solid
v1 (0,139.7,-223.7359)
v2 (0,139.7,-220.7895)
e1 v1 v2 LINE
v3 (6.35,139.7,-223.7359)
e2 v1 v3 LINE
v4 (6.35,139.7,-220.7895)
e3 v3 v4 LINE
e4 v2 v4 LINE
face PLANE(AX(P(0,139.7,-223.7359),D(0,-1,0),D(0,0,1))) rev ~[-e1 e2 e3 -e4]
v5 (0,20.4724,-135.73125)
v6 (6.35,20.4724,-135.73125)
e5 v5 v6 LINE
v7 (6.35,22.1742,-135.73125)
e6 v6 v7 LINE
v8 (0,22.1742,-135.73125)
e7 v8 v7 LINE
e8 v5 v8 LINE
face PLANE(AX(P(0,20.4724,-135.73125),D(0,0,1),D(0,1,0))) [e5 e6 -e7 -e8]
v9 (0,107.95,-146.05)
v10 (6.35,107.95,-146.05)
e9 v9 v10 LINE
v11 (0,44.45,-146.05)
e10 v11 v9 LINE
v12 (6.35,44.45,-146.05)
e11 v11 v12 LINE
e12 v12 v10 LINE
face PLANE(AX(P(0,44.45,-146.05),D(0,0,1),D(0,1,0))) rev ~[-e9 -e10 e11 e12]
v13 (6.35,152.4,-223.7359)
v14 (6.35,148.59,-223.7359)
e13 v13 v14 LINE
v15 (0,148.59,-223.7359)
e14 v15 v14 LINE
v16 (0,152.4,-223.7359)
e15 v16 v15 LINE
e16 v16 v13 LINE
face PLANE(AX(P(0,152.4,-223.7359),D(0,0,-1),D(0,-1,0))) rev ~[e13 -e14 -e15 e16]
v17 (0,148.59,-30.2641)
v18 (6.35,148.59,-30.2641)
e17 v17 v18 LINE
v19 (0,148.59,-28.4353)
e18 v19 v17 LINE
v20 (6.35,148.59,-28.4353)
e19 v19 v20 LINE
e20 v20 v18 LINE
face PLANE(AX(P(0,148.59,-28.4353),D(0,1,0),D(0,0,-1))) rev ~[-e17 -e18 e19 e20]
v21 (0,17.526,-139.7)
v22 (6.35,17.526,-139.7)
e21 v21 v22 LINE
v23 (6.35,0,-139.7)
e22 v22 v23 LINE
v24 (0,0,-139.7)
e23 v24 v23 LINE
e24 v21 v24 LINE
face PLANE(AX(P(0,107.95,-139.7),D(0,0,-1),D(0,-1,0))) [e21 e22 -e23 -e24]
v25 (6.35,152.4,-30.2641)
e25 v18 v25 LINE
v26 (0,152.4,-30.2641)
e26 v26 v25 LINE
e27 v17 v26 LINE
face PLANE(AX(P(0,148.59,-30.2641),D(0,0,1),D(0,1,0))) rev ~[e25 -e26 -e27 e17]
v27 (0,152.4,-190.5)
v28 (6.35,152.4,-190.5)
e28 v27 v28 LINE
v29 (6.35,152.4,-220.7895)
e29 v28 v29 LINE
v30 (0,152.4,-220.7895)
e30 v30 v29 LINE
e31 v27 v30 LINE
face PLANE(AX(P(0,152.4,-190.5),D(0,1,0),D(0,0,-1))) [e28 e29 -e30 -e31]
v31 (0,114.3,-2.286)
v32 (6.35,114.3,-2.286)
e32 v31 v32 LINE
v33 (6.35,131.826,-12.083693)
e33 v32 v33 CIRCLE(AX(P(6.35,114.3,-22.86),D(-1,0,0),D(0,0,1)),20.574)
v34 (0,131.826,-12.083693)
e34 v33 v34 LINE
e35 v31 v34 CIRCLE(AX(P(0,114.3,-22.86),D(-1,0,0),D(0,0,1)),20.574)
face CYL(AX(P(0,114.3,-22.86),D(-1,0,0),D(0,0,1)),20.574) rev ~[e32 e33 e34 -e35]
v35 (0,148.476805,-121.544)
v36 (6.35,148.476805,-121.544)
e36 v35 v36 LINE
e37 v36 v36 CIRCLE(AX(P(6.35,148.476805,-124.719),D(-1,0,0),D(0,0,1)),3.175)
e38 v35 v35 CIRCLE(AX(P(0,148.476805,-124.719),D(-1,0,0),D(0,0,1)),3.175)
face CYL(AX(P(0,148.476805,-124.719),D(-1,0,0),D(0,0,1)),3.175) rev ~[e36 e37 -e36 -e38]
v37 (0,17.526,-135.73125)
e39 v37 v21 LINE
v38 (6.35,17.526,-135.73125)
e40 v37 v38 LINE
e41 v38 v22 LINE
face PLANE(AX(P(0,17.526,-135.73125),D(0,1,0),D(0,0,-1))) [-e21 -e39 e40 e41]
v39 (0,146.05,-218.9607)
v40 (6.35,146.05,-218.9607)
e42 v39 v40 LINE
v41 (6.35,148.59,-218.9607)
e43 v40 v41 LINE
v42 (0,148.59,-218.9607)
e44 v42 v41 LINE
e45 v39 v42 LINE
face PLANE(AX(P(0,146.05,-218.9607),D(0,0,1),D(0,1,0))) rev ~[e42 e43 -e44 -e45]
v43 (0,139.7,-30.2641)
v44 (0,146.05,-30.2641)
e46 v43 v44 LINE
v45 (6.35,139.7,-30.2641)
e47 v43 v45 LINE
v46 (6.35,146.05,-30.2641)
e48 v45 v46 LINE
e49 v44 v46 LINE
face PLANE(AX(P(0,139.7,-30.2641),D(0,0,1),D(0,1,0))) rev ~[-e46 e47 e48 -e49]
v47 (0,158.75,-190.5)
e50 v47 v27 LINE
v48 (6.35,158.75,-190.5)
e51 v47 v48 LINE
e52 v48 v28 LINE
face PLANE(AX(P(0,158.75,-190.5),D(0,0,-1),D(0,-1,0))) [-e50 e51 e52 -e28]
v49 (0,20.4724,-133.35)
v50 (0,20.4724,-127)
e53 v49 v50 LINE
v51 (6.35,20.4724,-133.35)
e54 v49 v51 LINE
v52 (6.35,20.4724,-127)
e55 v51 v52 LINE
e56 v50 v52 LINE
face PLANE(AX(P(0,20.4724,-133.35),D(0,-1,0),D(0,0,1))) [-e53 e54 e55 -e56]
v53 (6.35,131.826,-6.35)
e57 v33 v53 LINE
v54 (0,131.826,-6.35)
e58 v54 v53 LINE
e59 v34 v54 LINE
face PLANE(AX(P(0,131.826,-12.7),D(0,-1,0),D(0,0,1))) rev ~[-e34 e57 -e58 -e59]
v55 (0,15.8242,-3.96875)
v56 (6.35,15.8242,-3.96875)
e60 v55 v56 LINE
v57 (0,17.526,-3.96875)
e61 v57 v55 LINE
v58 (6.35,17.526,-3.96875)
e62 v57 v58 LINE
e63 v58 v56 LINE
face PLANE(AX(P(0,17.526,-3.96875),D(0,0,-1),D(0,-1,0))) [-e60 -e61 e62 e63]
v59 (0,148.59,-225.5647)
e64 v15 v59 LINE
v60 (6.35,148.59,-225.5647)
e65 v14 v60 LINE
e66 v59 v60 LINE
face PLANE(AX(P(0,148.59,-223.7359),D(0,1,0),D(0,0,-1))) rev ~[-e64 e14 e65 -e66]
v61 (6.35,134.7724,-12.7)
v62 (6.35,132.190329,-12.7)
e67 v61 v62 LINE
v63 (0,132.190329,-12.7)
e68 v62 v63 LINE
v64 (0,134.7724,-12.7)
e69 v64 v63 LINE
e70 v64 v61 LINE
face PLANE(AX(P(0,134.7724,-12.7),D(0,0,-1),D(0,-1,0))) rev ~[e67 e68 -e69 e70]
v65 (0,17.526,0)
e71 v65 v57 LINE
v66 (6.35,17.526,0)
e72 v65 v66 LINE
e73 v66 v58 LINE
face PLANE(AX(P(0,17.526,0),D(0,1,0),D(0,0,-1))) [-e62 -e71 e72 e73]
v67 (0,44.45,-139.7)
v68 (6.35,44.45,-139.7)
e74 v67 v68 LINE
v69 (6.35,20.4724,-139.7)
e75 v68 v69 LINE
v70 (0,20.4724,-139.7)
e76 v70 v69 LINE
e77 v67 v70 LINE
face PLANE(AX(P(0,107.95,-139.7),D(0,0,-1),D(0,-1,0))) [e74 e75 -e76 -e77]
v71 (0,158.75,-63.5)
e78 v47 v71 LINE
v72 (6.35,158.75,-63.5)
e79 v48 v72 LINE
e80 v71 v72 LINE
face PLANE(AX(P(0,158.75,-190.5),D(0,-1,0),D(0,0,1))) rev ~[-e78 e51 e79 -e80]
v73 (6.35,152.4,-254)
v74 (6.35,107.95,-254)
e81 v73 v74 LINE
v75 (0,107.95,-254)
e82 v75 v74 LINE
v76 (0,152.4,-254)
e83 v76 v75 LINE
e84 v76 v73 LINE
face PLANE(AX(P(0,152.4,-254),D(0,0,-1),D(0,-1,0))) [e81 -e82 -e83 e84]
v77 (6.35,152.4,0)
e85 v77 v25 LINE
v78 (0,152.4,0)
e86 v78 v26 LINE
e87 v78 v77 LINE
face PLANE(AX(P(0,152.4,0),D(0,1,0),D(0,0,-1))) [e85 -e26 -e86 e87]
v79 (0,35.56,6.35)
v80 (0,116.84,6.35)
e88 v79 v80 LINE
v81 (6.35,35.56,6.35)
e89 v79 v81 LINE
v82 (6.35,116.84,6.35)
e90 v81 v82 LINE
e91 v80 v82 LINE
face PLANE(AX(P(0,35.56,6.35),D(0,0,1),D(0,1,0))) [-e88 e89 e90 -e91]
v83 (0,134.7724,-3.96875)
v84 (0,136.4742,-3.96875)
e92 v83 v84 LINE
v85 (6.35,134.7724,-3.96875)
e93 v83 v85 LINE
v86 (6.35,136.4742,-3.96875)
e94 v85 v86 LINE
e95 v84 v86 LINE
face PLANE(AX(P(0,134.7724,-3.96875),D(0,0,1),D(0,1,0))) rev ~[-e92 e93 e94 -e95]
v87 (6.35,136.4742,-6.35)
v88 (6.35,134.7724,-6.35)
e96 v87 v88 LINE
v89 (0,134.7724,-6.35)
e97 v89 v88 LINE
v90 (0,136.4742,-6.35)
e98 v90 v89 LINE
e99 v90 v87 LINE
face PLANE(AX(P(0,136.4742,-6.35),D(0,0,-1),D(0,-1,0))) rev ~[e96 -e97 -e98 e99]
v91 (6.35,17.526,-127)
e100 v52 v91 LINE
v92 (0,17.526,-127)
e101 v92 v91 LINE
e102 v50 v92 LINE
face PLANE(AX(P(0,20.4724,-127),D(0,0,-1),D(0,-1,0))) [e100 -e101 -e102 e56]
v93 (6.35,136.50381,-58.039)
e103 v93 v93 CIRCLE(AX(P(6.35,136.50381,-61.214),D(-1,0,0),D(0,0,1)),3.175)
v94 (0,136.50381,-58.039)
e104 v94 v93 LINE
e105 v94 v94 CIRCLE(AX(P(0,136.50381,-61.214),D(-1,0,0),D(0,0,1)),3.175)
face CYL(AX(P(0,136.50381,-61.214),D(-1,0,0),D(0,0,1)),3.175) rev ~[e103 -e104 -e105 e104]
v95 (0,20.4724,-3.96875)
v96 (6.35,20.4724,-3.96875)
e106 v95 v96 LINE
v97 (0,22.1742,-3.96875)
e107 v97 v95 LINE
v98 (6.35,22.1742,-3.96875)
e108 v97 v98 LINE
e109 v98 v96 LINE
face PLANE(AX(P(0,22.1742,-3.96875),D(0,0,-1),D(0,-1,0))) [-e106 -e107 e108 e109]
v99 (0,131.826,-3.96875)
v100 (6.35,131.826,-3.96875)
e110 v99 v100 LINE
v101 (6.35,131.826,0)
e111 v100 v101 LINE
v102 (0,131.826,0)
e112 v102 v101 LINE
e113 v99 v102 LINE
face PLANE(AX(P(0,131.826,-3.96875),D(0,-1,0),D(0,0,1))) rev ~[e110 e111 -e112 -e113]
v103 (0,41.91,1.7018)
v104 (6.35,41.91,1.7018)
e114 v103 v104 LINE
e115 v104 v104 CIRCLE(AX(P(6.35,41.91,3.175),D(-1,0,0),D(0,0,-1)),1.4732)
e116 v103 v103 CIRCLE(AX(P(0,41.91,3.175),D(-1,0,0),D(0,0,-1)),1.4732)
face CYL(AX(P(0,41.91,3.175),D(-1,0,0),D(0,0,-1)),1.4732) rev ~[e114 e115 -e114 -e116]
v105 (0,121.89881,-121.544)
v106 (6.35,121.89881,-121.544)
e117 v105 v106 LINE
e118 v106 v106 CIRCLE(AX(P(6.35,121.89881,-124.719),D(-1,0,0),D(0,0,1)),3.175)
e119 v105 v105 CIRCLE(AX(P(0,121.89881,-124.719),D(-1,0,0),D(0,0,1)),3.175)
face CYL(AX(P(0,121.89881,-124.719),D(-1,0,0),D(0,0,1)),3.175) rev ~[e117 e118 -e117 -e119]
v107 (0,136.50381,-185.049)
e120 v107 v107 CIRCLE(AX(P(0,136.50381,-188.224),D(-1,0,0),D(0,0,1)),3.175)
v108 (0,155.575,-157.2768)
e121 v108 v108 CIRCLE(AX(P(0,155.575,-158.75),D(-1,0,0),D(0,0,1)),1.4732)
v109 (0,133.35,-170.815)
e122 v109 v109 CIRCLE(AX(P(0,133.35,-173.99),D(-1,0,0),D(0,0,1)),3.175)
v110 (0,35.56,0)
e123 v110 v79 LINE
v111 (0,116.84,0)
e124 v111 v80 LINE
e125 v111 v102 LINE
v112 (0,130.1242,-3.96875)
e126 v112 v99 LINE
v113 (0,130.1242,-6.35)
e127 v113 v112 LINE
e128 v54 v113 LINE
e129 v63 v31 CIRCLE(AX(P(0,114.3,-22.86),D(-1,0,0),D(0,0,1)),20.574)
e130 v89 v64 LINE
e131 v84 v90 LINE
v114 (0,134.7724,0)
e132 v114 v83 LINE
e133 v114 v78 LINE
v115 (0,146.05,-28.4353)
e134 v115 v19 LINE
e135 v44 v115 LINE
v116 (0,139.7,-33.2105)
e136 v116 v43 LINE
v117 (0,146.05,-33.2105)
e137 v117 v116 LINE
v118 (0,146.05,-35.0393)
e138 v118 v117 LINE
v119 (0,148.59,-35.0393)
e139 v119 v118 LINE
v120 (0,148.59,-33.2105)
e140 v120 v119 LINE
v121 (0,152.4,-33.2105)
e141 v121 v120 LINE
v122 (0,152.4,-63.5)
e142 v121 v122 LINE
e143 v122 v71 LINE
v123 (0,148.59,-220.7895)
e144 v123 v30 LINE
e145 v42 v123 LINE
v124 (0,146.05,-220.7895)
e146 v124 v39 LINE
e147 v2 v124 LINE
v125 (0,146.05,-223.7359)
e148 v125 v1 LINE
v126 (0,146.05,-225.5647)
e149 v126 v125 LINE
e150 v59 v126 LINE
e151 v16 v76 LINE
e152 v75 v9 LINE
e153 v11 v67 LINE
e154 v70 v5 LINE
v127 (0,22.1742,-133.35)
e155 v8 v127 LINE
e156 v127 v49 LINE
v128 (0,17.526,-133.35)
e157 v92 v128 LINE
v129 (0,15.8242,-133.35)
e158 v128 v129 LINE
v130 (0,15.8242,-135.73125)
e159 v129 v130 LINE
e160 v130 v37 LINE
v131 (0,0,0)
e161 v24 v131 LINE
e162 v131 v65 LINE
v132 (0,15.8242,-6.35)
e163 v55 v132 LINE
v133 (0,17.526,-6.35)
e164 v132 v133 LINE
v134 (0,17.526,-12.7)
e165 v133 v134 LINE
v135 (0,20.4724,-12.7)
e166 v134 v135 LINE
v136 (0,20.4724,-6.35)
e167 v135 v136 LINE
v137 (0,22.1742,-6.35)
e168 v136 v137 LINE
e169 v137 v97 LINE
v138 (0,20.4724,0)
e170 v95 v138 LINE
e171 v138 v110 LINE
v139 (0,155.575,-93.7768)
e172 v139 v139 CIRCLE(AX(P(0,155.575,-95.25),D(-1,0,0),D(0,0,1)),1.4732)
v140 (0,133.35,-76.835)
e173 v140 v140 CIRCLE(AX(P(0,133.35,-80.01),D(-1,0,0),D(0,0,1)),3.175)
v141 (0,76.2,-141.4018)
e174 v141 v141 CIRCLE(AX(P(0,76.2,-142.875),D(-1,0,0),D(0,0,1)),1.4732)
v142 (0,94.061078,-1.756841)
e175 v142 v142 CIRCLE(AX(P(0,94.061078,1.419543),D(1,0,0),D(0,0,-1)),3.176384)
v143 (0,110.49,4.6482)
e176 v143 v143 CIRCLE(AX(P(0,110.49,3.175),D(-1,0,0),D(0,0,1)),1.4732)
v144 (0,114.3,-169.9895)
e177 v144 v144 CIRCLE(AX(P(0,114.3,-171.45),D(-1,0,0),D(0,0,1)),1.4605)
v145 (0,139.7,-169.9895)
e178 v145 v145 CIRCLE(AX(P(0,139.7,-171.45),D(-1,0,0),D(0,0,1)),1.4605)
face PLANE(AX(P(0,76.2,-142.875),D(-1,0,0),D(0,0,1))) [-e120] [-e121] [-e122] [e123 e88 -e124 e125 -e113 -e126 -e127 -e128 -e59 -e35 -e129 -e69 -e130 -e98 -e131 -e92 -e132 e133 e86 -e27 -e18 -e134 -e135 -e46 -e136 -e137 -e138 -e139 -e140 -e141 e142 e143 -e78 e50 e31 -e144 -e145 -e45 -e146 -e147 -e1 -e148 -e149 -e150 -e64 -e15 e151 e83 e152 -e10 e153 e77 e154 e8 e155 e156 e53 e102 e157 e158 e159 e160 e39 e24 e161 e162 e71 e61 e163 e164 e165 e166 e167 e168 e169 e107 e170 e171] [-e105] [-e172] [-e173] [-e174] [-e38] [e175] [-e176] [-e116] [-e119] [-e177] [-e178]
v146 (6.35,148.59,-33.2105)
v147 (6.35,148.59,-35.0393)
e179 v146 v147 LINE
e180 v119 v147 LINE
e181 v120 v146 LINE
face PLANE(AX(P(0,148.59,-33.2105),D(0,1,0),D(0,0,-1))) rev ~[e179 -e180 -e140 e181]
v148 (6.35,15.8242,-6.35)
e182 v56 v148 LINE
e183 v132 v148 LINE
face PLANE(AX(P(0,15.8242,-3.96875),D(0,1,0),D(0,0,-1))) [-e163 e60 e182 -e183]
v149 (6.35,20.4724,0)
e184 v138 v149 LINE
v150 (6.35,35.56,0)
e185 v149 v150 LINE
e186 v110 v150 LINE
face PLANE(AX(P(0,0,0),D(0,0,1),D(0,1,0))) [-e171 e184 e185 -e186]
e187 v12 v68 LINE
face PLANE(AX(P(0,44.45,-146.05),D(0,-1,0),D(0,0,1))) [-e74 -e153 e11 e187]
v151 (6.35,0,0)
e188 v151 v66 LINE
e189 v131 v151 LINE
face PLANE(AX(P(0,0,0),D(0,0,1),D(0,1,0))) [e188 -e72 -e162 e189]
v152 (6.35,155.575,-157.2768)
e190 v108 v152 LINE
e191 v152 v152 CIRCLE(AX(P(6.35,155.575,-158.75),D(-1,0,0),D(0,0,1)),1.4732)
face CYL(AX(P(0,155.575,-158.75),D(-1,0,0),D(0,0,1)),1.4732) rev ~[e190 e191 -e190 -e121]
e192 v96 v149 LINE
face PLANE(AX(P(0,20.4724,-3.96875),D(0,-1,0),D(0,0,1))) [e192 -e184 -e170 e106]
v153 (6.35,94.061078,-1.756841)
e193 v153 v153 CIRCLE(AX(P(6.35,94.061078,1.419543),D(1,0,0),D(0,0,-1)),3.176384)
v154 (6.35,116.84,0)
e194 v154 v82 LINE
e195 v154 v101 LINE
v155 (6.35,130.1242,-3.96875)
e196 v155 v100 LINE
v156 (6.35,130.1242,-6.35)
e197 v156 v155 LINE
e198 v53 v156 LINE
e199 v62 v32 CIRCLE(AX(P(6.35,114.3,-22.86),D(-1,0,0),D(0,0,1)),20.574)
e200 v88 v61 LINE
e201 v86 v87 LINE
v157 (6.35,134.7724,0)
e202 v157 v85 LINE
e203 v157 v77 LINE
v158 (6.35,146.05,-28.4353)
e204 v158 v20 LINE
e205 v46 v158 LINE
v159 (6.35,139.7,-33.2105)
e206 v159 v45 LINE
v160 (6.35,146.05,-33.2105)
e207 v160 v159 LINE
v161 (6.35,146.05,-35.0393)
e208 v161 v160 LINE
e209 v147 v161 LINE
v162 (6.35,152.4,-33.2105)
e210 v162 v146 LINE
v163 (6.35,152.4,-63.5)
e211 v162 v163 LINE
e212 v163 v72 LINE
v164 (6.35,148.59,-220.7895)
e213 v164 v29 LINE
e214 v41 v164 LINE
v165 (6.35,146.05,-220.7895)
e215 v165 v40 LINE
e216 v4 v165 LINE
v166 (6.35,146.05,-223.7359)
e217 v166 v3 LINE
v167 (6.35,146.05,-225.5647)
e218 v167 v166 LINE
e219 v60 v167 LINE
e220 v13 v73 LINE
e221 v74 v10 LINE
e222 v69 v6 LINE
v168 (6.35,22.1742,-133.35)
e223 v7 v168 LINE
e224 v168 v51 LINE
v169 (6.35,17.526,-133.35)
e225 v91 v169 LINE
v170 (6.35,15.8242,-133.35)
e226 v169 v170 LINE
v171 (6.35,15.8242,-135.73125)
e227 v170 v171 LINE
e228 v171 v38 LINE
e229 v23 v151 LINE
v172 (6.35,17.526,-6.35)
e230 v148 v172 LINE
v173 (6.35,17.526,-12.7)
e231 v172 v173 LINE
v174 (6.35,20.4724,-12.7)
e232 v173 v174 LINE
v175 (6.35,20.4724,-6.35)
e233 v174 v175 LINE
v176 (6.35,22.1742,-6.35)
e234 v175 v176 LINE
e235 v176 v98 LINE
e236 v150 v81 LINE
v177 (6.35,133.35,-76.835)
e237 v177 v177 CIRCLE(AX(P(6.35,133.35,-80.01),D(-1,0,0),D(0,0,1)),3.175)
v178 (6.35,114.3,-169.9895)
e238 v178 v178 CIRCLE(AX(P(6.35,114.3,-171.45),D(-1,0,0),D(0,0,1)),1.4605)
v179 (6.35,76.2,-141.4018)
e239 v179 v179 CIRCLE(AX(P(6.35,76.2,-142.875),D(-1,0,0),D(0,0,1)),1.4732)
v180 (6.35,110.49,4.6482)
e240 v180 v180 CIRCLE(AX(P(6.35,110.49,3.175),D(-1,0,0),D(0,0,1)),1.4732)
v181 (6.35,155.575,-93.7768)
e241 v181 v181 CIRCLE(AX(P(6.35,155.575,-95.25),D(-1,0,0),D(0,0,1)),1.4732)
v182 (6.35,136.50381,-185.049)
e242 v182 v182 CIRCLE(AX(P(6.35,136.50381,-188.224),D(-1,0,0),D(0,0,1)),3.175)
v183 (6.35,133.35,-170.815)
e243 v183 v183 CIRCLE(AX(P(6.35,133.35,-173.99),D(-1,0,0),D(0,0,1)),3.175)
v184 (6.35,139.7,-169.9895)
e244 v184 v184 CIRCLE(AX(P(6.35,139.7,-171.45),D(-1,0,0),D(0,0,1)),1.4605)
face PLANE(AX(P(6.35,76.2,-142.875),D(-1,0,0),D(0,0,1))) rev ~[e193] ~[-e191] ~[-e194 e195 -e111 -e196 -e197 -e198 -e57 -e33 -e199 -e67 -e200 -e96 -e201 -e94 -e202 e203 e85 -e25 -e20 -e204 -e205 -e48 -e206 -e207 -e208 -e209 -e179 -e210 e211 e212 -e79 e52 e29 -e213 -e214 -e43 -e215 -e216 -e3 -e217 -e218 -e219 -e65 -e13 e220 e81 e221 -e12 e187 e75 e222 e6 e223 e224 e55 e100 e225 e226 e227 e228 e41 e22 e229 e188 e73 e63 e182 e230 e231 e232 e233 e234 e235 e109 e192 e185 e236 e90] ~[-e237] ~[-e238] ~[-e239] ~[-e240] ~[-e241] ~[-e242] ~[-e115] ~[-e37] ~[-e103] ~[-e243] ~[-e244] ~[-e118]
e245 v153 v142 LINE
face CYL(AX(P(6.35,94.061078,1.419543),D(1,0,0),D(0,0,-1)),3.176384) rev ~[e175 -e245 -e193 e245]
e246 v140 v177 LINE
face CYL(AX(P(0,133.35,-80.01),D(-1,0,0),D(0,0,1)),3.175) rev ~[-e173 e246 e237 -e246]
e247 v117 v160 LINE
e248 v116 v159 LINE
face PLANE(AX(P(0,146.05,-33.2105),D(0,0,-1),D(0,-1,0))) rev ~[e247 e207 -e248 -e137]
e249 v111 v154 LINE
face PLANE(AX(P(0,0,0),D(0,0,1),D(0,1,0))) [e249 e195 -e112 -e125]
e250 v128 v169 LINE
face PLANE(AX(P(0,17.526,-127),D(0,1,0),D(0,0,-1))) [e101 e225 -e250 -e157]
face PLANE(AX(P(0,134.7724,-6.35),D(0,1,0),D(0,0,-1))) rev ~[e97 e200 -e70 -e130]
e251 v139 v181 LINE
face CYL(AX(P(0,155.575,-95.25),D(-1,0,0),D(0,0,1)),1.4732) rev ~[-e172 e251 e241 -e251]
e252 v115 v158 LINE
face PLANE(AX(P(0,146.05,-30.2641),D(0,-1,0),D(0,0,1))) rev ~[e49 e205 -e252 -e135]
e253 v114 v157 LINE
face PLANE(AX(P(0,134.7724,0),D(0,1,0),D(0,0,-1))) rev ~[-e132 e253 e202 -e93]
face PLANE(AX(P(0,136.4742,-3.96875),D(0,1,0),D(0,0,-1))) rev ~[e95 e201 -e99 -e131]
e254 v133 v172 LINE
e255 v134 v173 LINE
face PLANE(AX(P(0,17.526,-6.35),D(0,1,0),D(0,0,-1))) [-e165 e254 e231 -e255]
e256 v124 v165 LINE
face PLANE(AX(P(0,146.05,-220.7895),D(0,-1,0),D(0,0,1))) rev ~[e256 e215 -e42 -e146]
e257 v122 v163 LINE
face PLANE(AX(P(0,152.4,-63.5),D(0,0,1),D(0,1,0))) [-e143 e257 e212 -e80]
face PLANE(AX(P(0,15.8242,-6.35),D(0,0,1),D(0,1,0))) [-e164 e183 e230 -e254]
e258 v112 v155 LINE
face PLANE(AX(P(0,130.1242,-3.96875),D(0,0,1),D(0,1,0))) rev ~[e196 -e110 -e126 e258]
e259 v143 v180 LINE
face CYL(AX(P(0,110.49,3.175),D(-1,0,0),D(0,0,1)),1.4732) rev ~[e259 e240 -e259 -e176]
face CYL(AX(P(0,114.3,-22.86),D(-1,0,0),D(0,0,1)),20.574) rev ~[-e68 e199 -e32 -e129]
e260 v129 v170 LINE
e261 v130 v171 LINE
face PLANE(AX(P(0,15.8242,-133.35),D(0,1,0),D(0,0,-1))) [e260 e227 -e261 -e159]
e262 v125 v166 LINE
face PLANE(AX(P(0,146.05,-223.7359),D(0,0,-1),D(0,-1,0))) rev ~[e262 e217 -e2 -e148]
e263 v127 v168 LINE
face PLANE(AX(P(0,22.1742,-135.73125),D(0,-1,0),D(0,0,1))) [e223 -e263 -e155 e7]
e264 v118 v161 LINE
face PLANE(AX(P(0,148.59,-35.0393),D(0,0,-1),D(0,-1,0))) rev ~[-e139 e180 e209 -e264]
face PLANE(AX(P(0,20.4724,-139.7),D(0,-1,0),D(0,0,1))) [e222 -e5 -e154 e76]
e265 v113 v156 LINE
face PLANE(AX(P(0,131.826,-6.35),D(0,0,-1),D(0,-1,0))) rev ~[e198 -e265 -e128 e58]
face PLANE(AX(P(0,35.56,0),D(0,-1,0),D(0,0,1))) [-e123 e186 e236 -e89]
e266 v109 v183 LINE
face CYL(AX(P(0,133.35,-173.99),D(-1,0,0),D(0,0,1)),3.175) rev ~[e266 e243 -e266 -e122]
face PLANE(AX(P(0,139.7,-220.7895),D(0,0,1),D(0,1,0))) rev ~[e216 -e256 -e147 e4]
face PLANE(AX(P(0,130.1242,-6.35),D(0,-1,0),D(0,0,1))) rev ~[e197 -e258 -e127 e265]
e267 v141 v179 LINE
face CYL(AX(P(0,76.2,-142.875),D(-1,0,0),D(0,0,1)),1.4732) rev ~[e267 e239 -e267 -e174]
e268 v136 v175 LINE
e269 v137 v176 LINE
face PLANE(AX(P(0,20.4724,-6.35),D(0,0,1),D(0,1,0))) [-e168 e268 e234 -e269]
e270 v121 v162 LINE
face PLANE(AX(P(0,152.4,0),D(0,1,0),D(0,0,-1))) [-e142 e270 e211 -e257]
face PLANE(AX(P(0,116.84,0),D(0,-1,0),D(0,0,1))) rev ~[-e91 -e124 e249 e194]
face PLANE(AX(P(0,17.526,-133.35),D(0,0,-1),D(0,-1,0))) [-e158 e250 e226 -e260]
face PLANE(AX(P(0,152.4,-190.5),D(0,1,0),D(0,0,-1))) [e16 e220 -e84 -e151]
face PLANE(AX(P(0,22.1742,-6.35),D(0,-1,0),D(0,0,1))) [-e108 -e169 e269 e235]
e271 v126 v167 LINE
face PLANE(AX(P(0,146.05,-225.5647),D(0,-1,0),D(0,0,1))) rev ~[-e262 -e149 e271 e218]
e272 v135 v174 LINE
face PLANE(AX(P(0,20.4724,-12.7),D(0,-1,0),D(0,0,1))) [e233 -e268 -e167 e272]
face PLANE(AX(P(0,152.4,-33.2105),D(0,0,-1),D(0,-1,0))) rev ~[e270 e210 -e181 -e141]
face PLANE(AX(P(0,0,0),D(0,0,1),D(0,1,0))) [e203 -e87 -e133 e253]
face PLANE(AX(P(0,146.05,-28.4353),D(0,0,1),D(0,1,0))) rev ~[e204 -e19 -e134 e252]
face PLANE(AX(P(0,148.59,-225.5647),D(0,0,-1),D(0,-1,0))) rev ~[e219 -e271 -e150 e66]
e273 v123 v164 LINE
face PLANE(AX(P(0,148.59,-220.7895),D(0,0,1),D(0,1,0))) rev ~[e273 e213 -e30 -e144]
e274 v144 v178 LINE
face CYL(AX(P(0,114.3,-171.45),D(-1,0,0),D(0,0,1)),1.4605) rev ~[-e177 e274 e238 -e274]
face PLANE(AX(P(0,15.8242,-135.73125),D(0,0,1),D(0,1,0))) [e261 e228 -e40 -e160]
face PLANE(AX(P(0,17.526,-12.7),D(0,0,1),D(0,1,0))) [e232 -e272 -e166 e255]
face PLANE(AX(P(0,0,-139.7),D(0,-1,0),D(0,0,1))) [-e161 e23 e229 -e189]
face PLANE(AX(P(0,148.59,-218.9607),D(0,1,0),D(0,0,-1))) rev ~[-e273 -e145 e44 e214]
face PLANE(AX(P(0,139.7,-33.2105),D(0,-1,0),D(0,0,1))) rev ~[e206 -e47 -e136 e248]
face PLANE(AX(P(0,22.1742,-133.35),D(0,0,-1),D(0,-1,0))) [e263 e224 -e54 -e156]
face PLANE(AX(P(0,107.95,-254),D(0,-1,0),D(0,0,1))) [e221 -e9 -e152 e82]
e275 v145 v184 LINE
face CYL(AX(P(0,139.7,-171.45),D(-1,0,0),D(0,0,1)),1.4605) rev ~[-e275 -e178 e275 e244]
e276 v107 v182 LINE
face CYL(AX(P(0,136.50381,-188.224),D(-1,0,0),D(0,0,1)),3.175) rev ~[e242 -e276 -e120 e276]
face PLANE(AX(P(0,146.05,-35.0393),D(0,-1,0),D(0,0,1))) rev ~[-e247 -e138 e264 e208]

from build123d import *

# Parameters (mm, degrees)
BOSS_EXTRUDE1_DEPTH = 6.35
CUT_EXTRUDE1_DEPTH  = 300.596203247
SKETCH4_W           = 6.35
SKETCH4_H           = 81.28
SKETCH4_H_2         = 63.5
BOSS_EXTRUDE3_DEPTH = 6.35
SKETCH5_R           = 1.4732
CUT_EXTRUDE2_DEPTH  = 300.596203247
SKETCH6_R           = 3.175
SKETCH6_R_2         = 3.174999999
SKETCH6_R_3         = 1.4732
CUT_EXTRUDE3_DEPTH  = 300.596203247
CUT_EXTRUDE4_REACH  = 301.596
SKETCH7_R           = 3.1763843
SKETCH8_R           = 1.4605
CUT_EXTRUDE5_DEPTH  = 300.596203247
SKETCH11_R          = 20.574
CUT_EXTRUDE6_DEPTH  = 25.4


with BuildPart() as part:
    # Sketch1 → Boss-Extrude1 (new body)
    with BuildSketch(Plane(origin=(0, 0, 0), x_dir=(0, 0, -1), z_dir=(1, 0, 0))):
        Polygon((63.5, 158.75), (139.7, 158.75), (190.5, 158.75), (190.5, 152.4), (254, 152.4), (254, 107.95), (139.7, 107.95), (139.7, 0), (0, 0), (0, 152.4), (63.5, 152.4), align=None)
    extrude(amount=BOSS_EXTRUDE1_DEPTH)

    # Sketch2 → Cut-Extrude1 (cut, through all)
    with BuildSketch(Plane.ZY):
        Polygon((0, 17.526), (-3.96875, 17.526), (-3.96875, 15.8242), (-6.35, 15.8242), (-6.35, 17.526), (-12.7, 17.526), (-12.7, 20.4724), (-6.35, 20.4724), (-6.35, 22.1742), (-3.96875, 22.1742), (-3.96875, 20.4724), (0, 20.4724), align=None)
        Polygon((-139.7, 17.526), (-139.7, 20.4724), (-135.73125, 20.4724), (-135.73125, 22.1742), (-133.35, 22.1742), (-133.35, 20.4724), (-127, 20.4724), (-127, 17.526), (-133.35, 17.526), (-133.35, 15.8242), (-135.73125, 15.8242), (-135.73125, 17.526), align=None)
        Polygon((-12.7, 134.7724), (-12.7, 131.826), (-6.35, 131.826), (-6.35, 130.1242), (-3.96875, 130.1242), (-3.96875, 131.826), (0, 131.826), (0, 134.7724), (-3.96875, 134.7724), (-3.96875, 136.4742), (-6.35, 136.4742), (-6.35, 134.7724), align=None)
    extrude(amount=-CUT_EXTRUDE1_DEPTH, mode=Mode.SUBTRACT)

    # Sketch4 → Boss-Extrude3 (add)
    with BuildSketch(Plane.ZY):
        with Locations((3.175, 76.2)):
            Rectangle(SKETCH4_W, SKETCH4_H)
        with Locations((-142.875, 76.2)):
            Rectangle(SKETCH4_W, SKETCH4_H_2)
    extrude(amount=-BOSS_EXTRUDE3_DEPTH)

    # Sketch5 → Cut-Extrude2 (cut, through all)
    with BuildSketch(Plane.ZY):
        with Locations(Location((3.175, 41.91, 0), (0, 0, 180))):
            Circle(SKETCH5_R)
        with Locations((-142.875, 76.2)):
            Circle(SKETCH5_R)
        with Locations((3.175, 110.49)):
            Circle(SKETCH5_R)
    extrude(amount=-CUT_EXTRUDE2_DEPTH, mode=Mode.SUBTRACT)

    # Sketch6 → Cut-Extrude3 (cut, through all)
    with BuildSketch(Plane.ZY):
        with Locations((-61.214, 136.503809763)):
            Circle(SKETCH6_R)
        with Locations((-80.009999999, 133.35)):
            Circle(SKETCH6_R_2)
        with Locations((-95.25, 155.575)):
            Circle(SKETCH6_R_3)
        with Locations((-158.75, 155.575)):
            Circle(SKETCH6_R_3)
        with Locations((-188.224, 136.50380976)):
            Circle(SKETCH6_R)
        with Locations((-173.99, 133.35)):
            Circle(SKETCH6_R)
        with Locations((-124.719, 148.476804798)):
            Circle(SKETCH6_R)
        with Locations((-124.719, 121.898809762)):
            Circle(SKETCH6_R)
        Polygon((-30.2641, 152.4), (-33.2105, 152.4), (-33.2105, 148.59), (-35.0393, 148.59), (-35.0393, 146.05), (-33.2105, 146.05), (-33.2105, 139.7), (-30.2641, 139.7), (-30.2641, 146.05), (-28.4353, 146.05), (-28.4353, 148.59), (-30.2641, 148.59), align=None)
        Polygon((-220.7895, 152.4), (-223.7359, 152.4), (-223.7359, 148.59), (-225.5647, 148.59), (-225.5647, 146.05), (-223.7359, 146.05), (-223.7359, 139.7), (-220.7895, 139.7), (-220.7895, 146.05), (-218.9607, 146.05), (-218.9607, 148.59), (-220.7895, 148.59), align=None)
    extrude(amount=-CUT_EXTRUDE3_DEPTH, mode=Mode.SUBTRACT)

    # Sketch7 → Cut-Extrude4 (cut, up to next)
    with BuildSketch(Plane(origin=(6.35, 0, 0), x_dir=(0, 0, -1), z_dir=(1, 0, 0)), mode=Mode.PRIVATE) as cut_extrude4_sk1:
        with Locations((-1.419543332, 94.061078275)):
            Circle(SKETCH7_R)
    cut_extrude4_tool1 = extrude(cut_extrude4_sk1.sketch, amount=-CUT_EXTRUDE4_REACH, mode=Mode.PRIVATE) & part.part
    add(cut_extrude4_tool1.solids().sort_by_distance((6.35, 94.061078, 1.419543))[0], mode=Mode.SUBTRACT)

    # Sketch8 → Cut-Extrude5 (cut, through all)
    with BuildSketch(Plane.ZY):
        with Locations((-171.45, 114.3)):
            Circle(SKETCH8_R)
        with Locations((-171.45, 139.7)):
            Circle(SKETCH8_R)
    extrude(amount=-CUT_EXTRUDE5_DEPTH, mode=Mode.SUBTRACT)

    # Sketch11 → Cut-Extrude6 (cut)
    with BuildSketch(Plane.ZY):
        with Locations((-22.86, 114.3)):
            Circle(SKETCH11_R)
    extrude(amount=-CUT_EXTRUDE6_DEPTH, mode=Mode.SUBTRACT)


solid = part.part
